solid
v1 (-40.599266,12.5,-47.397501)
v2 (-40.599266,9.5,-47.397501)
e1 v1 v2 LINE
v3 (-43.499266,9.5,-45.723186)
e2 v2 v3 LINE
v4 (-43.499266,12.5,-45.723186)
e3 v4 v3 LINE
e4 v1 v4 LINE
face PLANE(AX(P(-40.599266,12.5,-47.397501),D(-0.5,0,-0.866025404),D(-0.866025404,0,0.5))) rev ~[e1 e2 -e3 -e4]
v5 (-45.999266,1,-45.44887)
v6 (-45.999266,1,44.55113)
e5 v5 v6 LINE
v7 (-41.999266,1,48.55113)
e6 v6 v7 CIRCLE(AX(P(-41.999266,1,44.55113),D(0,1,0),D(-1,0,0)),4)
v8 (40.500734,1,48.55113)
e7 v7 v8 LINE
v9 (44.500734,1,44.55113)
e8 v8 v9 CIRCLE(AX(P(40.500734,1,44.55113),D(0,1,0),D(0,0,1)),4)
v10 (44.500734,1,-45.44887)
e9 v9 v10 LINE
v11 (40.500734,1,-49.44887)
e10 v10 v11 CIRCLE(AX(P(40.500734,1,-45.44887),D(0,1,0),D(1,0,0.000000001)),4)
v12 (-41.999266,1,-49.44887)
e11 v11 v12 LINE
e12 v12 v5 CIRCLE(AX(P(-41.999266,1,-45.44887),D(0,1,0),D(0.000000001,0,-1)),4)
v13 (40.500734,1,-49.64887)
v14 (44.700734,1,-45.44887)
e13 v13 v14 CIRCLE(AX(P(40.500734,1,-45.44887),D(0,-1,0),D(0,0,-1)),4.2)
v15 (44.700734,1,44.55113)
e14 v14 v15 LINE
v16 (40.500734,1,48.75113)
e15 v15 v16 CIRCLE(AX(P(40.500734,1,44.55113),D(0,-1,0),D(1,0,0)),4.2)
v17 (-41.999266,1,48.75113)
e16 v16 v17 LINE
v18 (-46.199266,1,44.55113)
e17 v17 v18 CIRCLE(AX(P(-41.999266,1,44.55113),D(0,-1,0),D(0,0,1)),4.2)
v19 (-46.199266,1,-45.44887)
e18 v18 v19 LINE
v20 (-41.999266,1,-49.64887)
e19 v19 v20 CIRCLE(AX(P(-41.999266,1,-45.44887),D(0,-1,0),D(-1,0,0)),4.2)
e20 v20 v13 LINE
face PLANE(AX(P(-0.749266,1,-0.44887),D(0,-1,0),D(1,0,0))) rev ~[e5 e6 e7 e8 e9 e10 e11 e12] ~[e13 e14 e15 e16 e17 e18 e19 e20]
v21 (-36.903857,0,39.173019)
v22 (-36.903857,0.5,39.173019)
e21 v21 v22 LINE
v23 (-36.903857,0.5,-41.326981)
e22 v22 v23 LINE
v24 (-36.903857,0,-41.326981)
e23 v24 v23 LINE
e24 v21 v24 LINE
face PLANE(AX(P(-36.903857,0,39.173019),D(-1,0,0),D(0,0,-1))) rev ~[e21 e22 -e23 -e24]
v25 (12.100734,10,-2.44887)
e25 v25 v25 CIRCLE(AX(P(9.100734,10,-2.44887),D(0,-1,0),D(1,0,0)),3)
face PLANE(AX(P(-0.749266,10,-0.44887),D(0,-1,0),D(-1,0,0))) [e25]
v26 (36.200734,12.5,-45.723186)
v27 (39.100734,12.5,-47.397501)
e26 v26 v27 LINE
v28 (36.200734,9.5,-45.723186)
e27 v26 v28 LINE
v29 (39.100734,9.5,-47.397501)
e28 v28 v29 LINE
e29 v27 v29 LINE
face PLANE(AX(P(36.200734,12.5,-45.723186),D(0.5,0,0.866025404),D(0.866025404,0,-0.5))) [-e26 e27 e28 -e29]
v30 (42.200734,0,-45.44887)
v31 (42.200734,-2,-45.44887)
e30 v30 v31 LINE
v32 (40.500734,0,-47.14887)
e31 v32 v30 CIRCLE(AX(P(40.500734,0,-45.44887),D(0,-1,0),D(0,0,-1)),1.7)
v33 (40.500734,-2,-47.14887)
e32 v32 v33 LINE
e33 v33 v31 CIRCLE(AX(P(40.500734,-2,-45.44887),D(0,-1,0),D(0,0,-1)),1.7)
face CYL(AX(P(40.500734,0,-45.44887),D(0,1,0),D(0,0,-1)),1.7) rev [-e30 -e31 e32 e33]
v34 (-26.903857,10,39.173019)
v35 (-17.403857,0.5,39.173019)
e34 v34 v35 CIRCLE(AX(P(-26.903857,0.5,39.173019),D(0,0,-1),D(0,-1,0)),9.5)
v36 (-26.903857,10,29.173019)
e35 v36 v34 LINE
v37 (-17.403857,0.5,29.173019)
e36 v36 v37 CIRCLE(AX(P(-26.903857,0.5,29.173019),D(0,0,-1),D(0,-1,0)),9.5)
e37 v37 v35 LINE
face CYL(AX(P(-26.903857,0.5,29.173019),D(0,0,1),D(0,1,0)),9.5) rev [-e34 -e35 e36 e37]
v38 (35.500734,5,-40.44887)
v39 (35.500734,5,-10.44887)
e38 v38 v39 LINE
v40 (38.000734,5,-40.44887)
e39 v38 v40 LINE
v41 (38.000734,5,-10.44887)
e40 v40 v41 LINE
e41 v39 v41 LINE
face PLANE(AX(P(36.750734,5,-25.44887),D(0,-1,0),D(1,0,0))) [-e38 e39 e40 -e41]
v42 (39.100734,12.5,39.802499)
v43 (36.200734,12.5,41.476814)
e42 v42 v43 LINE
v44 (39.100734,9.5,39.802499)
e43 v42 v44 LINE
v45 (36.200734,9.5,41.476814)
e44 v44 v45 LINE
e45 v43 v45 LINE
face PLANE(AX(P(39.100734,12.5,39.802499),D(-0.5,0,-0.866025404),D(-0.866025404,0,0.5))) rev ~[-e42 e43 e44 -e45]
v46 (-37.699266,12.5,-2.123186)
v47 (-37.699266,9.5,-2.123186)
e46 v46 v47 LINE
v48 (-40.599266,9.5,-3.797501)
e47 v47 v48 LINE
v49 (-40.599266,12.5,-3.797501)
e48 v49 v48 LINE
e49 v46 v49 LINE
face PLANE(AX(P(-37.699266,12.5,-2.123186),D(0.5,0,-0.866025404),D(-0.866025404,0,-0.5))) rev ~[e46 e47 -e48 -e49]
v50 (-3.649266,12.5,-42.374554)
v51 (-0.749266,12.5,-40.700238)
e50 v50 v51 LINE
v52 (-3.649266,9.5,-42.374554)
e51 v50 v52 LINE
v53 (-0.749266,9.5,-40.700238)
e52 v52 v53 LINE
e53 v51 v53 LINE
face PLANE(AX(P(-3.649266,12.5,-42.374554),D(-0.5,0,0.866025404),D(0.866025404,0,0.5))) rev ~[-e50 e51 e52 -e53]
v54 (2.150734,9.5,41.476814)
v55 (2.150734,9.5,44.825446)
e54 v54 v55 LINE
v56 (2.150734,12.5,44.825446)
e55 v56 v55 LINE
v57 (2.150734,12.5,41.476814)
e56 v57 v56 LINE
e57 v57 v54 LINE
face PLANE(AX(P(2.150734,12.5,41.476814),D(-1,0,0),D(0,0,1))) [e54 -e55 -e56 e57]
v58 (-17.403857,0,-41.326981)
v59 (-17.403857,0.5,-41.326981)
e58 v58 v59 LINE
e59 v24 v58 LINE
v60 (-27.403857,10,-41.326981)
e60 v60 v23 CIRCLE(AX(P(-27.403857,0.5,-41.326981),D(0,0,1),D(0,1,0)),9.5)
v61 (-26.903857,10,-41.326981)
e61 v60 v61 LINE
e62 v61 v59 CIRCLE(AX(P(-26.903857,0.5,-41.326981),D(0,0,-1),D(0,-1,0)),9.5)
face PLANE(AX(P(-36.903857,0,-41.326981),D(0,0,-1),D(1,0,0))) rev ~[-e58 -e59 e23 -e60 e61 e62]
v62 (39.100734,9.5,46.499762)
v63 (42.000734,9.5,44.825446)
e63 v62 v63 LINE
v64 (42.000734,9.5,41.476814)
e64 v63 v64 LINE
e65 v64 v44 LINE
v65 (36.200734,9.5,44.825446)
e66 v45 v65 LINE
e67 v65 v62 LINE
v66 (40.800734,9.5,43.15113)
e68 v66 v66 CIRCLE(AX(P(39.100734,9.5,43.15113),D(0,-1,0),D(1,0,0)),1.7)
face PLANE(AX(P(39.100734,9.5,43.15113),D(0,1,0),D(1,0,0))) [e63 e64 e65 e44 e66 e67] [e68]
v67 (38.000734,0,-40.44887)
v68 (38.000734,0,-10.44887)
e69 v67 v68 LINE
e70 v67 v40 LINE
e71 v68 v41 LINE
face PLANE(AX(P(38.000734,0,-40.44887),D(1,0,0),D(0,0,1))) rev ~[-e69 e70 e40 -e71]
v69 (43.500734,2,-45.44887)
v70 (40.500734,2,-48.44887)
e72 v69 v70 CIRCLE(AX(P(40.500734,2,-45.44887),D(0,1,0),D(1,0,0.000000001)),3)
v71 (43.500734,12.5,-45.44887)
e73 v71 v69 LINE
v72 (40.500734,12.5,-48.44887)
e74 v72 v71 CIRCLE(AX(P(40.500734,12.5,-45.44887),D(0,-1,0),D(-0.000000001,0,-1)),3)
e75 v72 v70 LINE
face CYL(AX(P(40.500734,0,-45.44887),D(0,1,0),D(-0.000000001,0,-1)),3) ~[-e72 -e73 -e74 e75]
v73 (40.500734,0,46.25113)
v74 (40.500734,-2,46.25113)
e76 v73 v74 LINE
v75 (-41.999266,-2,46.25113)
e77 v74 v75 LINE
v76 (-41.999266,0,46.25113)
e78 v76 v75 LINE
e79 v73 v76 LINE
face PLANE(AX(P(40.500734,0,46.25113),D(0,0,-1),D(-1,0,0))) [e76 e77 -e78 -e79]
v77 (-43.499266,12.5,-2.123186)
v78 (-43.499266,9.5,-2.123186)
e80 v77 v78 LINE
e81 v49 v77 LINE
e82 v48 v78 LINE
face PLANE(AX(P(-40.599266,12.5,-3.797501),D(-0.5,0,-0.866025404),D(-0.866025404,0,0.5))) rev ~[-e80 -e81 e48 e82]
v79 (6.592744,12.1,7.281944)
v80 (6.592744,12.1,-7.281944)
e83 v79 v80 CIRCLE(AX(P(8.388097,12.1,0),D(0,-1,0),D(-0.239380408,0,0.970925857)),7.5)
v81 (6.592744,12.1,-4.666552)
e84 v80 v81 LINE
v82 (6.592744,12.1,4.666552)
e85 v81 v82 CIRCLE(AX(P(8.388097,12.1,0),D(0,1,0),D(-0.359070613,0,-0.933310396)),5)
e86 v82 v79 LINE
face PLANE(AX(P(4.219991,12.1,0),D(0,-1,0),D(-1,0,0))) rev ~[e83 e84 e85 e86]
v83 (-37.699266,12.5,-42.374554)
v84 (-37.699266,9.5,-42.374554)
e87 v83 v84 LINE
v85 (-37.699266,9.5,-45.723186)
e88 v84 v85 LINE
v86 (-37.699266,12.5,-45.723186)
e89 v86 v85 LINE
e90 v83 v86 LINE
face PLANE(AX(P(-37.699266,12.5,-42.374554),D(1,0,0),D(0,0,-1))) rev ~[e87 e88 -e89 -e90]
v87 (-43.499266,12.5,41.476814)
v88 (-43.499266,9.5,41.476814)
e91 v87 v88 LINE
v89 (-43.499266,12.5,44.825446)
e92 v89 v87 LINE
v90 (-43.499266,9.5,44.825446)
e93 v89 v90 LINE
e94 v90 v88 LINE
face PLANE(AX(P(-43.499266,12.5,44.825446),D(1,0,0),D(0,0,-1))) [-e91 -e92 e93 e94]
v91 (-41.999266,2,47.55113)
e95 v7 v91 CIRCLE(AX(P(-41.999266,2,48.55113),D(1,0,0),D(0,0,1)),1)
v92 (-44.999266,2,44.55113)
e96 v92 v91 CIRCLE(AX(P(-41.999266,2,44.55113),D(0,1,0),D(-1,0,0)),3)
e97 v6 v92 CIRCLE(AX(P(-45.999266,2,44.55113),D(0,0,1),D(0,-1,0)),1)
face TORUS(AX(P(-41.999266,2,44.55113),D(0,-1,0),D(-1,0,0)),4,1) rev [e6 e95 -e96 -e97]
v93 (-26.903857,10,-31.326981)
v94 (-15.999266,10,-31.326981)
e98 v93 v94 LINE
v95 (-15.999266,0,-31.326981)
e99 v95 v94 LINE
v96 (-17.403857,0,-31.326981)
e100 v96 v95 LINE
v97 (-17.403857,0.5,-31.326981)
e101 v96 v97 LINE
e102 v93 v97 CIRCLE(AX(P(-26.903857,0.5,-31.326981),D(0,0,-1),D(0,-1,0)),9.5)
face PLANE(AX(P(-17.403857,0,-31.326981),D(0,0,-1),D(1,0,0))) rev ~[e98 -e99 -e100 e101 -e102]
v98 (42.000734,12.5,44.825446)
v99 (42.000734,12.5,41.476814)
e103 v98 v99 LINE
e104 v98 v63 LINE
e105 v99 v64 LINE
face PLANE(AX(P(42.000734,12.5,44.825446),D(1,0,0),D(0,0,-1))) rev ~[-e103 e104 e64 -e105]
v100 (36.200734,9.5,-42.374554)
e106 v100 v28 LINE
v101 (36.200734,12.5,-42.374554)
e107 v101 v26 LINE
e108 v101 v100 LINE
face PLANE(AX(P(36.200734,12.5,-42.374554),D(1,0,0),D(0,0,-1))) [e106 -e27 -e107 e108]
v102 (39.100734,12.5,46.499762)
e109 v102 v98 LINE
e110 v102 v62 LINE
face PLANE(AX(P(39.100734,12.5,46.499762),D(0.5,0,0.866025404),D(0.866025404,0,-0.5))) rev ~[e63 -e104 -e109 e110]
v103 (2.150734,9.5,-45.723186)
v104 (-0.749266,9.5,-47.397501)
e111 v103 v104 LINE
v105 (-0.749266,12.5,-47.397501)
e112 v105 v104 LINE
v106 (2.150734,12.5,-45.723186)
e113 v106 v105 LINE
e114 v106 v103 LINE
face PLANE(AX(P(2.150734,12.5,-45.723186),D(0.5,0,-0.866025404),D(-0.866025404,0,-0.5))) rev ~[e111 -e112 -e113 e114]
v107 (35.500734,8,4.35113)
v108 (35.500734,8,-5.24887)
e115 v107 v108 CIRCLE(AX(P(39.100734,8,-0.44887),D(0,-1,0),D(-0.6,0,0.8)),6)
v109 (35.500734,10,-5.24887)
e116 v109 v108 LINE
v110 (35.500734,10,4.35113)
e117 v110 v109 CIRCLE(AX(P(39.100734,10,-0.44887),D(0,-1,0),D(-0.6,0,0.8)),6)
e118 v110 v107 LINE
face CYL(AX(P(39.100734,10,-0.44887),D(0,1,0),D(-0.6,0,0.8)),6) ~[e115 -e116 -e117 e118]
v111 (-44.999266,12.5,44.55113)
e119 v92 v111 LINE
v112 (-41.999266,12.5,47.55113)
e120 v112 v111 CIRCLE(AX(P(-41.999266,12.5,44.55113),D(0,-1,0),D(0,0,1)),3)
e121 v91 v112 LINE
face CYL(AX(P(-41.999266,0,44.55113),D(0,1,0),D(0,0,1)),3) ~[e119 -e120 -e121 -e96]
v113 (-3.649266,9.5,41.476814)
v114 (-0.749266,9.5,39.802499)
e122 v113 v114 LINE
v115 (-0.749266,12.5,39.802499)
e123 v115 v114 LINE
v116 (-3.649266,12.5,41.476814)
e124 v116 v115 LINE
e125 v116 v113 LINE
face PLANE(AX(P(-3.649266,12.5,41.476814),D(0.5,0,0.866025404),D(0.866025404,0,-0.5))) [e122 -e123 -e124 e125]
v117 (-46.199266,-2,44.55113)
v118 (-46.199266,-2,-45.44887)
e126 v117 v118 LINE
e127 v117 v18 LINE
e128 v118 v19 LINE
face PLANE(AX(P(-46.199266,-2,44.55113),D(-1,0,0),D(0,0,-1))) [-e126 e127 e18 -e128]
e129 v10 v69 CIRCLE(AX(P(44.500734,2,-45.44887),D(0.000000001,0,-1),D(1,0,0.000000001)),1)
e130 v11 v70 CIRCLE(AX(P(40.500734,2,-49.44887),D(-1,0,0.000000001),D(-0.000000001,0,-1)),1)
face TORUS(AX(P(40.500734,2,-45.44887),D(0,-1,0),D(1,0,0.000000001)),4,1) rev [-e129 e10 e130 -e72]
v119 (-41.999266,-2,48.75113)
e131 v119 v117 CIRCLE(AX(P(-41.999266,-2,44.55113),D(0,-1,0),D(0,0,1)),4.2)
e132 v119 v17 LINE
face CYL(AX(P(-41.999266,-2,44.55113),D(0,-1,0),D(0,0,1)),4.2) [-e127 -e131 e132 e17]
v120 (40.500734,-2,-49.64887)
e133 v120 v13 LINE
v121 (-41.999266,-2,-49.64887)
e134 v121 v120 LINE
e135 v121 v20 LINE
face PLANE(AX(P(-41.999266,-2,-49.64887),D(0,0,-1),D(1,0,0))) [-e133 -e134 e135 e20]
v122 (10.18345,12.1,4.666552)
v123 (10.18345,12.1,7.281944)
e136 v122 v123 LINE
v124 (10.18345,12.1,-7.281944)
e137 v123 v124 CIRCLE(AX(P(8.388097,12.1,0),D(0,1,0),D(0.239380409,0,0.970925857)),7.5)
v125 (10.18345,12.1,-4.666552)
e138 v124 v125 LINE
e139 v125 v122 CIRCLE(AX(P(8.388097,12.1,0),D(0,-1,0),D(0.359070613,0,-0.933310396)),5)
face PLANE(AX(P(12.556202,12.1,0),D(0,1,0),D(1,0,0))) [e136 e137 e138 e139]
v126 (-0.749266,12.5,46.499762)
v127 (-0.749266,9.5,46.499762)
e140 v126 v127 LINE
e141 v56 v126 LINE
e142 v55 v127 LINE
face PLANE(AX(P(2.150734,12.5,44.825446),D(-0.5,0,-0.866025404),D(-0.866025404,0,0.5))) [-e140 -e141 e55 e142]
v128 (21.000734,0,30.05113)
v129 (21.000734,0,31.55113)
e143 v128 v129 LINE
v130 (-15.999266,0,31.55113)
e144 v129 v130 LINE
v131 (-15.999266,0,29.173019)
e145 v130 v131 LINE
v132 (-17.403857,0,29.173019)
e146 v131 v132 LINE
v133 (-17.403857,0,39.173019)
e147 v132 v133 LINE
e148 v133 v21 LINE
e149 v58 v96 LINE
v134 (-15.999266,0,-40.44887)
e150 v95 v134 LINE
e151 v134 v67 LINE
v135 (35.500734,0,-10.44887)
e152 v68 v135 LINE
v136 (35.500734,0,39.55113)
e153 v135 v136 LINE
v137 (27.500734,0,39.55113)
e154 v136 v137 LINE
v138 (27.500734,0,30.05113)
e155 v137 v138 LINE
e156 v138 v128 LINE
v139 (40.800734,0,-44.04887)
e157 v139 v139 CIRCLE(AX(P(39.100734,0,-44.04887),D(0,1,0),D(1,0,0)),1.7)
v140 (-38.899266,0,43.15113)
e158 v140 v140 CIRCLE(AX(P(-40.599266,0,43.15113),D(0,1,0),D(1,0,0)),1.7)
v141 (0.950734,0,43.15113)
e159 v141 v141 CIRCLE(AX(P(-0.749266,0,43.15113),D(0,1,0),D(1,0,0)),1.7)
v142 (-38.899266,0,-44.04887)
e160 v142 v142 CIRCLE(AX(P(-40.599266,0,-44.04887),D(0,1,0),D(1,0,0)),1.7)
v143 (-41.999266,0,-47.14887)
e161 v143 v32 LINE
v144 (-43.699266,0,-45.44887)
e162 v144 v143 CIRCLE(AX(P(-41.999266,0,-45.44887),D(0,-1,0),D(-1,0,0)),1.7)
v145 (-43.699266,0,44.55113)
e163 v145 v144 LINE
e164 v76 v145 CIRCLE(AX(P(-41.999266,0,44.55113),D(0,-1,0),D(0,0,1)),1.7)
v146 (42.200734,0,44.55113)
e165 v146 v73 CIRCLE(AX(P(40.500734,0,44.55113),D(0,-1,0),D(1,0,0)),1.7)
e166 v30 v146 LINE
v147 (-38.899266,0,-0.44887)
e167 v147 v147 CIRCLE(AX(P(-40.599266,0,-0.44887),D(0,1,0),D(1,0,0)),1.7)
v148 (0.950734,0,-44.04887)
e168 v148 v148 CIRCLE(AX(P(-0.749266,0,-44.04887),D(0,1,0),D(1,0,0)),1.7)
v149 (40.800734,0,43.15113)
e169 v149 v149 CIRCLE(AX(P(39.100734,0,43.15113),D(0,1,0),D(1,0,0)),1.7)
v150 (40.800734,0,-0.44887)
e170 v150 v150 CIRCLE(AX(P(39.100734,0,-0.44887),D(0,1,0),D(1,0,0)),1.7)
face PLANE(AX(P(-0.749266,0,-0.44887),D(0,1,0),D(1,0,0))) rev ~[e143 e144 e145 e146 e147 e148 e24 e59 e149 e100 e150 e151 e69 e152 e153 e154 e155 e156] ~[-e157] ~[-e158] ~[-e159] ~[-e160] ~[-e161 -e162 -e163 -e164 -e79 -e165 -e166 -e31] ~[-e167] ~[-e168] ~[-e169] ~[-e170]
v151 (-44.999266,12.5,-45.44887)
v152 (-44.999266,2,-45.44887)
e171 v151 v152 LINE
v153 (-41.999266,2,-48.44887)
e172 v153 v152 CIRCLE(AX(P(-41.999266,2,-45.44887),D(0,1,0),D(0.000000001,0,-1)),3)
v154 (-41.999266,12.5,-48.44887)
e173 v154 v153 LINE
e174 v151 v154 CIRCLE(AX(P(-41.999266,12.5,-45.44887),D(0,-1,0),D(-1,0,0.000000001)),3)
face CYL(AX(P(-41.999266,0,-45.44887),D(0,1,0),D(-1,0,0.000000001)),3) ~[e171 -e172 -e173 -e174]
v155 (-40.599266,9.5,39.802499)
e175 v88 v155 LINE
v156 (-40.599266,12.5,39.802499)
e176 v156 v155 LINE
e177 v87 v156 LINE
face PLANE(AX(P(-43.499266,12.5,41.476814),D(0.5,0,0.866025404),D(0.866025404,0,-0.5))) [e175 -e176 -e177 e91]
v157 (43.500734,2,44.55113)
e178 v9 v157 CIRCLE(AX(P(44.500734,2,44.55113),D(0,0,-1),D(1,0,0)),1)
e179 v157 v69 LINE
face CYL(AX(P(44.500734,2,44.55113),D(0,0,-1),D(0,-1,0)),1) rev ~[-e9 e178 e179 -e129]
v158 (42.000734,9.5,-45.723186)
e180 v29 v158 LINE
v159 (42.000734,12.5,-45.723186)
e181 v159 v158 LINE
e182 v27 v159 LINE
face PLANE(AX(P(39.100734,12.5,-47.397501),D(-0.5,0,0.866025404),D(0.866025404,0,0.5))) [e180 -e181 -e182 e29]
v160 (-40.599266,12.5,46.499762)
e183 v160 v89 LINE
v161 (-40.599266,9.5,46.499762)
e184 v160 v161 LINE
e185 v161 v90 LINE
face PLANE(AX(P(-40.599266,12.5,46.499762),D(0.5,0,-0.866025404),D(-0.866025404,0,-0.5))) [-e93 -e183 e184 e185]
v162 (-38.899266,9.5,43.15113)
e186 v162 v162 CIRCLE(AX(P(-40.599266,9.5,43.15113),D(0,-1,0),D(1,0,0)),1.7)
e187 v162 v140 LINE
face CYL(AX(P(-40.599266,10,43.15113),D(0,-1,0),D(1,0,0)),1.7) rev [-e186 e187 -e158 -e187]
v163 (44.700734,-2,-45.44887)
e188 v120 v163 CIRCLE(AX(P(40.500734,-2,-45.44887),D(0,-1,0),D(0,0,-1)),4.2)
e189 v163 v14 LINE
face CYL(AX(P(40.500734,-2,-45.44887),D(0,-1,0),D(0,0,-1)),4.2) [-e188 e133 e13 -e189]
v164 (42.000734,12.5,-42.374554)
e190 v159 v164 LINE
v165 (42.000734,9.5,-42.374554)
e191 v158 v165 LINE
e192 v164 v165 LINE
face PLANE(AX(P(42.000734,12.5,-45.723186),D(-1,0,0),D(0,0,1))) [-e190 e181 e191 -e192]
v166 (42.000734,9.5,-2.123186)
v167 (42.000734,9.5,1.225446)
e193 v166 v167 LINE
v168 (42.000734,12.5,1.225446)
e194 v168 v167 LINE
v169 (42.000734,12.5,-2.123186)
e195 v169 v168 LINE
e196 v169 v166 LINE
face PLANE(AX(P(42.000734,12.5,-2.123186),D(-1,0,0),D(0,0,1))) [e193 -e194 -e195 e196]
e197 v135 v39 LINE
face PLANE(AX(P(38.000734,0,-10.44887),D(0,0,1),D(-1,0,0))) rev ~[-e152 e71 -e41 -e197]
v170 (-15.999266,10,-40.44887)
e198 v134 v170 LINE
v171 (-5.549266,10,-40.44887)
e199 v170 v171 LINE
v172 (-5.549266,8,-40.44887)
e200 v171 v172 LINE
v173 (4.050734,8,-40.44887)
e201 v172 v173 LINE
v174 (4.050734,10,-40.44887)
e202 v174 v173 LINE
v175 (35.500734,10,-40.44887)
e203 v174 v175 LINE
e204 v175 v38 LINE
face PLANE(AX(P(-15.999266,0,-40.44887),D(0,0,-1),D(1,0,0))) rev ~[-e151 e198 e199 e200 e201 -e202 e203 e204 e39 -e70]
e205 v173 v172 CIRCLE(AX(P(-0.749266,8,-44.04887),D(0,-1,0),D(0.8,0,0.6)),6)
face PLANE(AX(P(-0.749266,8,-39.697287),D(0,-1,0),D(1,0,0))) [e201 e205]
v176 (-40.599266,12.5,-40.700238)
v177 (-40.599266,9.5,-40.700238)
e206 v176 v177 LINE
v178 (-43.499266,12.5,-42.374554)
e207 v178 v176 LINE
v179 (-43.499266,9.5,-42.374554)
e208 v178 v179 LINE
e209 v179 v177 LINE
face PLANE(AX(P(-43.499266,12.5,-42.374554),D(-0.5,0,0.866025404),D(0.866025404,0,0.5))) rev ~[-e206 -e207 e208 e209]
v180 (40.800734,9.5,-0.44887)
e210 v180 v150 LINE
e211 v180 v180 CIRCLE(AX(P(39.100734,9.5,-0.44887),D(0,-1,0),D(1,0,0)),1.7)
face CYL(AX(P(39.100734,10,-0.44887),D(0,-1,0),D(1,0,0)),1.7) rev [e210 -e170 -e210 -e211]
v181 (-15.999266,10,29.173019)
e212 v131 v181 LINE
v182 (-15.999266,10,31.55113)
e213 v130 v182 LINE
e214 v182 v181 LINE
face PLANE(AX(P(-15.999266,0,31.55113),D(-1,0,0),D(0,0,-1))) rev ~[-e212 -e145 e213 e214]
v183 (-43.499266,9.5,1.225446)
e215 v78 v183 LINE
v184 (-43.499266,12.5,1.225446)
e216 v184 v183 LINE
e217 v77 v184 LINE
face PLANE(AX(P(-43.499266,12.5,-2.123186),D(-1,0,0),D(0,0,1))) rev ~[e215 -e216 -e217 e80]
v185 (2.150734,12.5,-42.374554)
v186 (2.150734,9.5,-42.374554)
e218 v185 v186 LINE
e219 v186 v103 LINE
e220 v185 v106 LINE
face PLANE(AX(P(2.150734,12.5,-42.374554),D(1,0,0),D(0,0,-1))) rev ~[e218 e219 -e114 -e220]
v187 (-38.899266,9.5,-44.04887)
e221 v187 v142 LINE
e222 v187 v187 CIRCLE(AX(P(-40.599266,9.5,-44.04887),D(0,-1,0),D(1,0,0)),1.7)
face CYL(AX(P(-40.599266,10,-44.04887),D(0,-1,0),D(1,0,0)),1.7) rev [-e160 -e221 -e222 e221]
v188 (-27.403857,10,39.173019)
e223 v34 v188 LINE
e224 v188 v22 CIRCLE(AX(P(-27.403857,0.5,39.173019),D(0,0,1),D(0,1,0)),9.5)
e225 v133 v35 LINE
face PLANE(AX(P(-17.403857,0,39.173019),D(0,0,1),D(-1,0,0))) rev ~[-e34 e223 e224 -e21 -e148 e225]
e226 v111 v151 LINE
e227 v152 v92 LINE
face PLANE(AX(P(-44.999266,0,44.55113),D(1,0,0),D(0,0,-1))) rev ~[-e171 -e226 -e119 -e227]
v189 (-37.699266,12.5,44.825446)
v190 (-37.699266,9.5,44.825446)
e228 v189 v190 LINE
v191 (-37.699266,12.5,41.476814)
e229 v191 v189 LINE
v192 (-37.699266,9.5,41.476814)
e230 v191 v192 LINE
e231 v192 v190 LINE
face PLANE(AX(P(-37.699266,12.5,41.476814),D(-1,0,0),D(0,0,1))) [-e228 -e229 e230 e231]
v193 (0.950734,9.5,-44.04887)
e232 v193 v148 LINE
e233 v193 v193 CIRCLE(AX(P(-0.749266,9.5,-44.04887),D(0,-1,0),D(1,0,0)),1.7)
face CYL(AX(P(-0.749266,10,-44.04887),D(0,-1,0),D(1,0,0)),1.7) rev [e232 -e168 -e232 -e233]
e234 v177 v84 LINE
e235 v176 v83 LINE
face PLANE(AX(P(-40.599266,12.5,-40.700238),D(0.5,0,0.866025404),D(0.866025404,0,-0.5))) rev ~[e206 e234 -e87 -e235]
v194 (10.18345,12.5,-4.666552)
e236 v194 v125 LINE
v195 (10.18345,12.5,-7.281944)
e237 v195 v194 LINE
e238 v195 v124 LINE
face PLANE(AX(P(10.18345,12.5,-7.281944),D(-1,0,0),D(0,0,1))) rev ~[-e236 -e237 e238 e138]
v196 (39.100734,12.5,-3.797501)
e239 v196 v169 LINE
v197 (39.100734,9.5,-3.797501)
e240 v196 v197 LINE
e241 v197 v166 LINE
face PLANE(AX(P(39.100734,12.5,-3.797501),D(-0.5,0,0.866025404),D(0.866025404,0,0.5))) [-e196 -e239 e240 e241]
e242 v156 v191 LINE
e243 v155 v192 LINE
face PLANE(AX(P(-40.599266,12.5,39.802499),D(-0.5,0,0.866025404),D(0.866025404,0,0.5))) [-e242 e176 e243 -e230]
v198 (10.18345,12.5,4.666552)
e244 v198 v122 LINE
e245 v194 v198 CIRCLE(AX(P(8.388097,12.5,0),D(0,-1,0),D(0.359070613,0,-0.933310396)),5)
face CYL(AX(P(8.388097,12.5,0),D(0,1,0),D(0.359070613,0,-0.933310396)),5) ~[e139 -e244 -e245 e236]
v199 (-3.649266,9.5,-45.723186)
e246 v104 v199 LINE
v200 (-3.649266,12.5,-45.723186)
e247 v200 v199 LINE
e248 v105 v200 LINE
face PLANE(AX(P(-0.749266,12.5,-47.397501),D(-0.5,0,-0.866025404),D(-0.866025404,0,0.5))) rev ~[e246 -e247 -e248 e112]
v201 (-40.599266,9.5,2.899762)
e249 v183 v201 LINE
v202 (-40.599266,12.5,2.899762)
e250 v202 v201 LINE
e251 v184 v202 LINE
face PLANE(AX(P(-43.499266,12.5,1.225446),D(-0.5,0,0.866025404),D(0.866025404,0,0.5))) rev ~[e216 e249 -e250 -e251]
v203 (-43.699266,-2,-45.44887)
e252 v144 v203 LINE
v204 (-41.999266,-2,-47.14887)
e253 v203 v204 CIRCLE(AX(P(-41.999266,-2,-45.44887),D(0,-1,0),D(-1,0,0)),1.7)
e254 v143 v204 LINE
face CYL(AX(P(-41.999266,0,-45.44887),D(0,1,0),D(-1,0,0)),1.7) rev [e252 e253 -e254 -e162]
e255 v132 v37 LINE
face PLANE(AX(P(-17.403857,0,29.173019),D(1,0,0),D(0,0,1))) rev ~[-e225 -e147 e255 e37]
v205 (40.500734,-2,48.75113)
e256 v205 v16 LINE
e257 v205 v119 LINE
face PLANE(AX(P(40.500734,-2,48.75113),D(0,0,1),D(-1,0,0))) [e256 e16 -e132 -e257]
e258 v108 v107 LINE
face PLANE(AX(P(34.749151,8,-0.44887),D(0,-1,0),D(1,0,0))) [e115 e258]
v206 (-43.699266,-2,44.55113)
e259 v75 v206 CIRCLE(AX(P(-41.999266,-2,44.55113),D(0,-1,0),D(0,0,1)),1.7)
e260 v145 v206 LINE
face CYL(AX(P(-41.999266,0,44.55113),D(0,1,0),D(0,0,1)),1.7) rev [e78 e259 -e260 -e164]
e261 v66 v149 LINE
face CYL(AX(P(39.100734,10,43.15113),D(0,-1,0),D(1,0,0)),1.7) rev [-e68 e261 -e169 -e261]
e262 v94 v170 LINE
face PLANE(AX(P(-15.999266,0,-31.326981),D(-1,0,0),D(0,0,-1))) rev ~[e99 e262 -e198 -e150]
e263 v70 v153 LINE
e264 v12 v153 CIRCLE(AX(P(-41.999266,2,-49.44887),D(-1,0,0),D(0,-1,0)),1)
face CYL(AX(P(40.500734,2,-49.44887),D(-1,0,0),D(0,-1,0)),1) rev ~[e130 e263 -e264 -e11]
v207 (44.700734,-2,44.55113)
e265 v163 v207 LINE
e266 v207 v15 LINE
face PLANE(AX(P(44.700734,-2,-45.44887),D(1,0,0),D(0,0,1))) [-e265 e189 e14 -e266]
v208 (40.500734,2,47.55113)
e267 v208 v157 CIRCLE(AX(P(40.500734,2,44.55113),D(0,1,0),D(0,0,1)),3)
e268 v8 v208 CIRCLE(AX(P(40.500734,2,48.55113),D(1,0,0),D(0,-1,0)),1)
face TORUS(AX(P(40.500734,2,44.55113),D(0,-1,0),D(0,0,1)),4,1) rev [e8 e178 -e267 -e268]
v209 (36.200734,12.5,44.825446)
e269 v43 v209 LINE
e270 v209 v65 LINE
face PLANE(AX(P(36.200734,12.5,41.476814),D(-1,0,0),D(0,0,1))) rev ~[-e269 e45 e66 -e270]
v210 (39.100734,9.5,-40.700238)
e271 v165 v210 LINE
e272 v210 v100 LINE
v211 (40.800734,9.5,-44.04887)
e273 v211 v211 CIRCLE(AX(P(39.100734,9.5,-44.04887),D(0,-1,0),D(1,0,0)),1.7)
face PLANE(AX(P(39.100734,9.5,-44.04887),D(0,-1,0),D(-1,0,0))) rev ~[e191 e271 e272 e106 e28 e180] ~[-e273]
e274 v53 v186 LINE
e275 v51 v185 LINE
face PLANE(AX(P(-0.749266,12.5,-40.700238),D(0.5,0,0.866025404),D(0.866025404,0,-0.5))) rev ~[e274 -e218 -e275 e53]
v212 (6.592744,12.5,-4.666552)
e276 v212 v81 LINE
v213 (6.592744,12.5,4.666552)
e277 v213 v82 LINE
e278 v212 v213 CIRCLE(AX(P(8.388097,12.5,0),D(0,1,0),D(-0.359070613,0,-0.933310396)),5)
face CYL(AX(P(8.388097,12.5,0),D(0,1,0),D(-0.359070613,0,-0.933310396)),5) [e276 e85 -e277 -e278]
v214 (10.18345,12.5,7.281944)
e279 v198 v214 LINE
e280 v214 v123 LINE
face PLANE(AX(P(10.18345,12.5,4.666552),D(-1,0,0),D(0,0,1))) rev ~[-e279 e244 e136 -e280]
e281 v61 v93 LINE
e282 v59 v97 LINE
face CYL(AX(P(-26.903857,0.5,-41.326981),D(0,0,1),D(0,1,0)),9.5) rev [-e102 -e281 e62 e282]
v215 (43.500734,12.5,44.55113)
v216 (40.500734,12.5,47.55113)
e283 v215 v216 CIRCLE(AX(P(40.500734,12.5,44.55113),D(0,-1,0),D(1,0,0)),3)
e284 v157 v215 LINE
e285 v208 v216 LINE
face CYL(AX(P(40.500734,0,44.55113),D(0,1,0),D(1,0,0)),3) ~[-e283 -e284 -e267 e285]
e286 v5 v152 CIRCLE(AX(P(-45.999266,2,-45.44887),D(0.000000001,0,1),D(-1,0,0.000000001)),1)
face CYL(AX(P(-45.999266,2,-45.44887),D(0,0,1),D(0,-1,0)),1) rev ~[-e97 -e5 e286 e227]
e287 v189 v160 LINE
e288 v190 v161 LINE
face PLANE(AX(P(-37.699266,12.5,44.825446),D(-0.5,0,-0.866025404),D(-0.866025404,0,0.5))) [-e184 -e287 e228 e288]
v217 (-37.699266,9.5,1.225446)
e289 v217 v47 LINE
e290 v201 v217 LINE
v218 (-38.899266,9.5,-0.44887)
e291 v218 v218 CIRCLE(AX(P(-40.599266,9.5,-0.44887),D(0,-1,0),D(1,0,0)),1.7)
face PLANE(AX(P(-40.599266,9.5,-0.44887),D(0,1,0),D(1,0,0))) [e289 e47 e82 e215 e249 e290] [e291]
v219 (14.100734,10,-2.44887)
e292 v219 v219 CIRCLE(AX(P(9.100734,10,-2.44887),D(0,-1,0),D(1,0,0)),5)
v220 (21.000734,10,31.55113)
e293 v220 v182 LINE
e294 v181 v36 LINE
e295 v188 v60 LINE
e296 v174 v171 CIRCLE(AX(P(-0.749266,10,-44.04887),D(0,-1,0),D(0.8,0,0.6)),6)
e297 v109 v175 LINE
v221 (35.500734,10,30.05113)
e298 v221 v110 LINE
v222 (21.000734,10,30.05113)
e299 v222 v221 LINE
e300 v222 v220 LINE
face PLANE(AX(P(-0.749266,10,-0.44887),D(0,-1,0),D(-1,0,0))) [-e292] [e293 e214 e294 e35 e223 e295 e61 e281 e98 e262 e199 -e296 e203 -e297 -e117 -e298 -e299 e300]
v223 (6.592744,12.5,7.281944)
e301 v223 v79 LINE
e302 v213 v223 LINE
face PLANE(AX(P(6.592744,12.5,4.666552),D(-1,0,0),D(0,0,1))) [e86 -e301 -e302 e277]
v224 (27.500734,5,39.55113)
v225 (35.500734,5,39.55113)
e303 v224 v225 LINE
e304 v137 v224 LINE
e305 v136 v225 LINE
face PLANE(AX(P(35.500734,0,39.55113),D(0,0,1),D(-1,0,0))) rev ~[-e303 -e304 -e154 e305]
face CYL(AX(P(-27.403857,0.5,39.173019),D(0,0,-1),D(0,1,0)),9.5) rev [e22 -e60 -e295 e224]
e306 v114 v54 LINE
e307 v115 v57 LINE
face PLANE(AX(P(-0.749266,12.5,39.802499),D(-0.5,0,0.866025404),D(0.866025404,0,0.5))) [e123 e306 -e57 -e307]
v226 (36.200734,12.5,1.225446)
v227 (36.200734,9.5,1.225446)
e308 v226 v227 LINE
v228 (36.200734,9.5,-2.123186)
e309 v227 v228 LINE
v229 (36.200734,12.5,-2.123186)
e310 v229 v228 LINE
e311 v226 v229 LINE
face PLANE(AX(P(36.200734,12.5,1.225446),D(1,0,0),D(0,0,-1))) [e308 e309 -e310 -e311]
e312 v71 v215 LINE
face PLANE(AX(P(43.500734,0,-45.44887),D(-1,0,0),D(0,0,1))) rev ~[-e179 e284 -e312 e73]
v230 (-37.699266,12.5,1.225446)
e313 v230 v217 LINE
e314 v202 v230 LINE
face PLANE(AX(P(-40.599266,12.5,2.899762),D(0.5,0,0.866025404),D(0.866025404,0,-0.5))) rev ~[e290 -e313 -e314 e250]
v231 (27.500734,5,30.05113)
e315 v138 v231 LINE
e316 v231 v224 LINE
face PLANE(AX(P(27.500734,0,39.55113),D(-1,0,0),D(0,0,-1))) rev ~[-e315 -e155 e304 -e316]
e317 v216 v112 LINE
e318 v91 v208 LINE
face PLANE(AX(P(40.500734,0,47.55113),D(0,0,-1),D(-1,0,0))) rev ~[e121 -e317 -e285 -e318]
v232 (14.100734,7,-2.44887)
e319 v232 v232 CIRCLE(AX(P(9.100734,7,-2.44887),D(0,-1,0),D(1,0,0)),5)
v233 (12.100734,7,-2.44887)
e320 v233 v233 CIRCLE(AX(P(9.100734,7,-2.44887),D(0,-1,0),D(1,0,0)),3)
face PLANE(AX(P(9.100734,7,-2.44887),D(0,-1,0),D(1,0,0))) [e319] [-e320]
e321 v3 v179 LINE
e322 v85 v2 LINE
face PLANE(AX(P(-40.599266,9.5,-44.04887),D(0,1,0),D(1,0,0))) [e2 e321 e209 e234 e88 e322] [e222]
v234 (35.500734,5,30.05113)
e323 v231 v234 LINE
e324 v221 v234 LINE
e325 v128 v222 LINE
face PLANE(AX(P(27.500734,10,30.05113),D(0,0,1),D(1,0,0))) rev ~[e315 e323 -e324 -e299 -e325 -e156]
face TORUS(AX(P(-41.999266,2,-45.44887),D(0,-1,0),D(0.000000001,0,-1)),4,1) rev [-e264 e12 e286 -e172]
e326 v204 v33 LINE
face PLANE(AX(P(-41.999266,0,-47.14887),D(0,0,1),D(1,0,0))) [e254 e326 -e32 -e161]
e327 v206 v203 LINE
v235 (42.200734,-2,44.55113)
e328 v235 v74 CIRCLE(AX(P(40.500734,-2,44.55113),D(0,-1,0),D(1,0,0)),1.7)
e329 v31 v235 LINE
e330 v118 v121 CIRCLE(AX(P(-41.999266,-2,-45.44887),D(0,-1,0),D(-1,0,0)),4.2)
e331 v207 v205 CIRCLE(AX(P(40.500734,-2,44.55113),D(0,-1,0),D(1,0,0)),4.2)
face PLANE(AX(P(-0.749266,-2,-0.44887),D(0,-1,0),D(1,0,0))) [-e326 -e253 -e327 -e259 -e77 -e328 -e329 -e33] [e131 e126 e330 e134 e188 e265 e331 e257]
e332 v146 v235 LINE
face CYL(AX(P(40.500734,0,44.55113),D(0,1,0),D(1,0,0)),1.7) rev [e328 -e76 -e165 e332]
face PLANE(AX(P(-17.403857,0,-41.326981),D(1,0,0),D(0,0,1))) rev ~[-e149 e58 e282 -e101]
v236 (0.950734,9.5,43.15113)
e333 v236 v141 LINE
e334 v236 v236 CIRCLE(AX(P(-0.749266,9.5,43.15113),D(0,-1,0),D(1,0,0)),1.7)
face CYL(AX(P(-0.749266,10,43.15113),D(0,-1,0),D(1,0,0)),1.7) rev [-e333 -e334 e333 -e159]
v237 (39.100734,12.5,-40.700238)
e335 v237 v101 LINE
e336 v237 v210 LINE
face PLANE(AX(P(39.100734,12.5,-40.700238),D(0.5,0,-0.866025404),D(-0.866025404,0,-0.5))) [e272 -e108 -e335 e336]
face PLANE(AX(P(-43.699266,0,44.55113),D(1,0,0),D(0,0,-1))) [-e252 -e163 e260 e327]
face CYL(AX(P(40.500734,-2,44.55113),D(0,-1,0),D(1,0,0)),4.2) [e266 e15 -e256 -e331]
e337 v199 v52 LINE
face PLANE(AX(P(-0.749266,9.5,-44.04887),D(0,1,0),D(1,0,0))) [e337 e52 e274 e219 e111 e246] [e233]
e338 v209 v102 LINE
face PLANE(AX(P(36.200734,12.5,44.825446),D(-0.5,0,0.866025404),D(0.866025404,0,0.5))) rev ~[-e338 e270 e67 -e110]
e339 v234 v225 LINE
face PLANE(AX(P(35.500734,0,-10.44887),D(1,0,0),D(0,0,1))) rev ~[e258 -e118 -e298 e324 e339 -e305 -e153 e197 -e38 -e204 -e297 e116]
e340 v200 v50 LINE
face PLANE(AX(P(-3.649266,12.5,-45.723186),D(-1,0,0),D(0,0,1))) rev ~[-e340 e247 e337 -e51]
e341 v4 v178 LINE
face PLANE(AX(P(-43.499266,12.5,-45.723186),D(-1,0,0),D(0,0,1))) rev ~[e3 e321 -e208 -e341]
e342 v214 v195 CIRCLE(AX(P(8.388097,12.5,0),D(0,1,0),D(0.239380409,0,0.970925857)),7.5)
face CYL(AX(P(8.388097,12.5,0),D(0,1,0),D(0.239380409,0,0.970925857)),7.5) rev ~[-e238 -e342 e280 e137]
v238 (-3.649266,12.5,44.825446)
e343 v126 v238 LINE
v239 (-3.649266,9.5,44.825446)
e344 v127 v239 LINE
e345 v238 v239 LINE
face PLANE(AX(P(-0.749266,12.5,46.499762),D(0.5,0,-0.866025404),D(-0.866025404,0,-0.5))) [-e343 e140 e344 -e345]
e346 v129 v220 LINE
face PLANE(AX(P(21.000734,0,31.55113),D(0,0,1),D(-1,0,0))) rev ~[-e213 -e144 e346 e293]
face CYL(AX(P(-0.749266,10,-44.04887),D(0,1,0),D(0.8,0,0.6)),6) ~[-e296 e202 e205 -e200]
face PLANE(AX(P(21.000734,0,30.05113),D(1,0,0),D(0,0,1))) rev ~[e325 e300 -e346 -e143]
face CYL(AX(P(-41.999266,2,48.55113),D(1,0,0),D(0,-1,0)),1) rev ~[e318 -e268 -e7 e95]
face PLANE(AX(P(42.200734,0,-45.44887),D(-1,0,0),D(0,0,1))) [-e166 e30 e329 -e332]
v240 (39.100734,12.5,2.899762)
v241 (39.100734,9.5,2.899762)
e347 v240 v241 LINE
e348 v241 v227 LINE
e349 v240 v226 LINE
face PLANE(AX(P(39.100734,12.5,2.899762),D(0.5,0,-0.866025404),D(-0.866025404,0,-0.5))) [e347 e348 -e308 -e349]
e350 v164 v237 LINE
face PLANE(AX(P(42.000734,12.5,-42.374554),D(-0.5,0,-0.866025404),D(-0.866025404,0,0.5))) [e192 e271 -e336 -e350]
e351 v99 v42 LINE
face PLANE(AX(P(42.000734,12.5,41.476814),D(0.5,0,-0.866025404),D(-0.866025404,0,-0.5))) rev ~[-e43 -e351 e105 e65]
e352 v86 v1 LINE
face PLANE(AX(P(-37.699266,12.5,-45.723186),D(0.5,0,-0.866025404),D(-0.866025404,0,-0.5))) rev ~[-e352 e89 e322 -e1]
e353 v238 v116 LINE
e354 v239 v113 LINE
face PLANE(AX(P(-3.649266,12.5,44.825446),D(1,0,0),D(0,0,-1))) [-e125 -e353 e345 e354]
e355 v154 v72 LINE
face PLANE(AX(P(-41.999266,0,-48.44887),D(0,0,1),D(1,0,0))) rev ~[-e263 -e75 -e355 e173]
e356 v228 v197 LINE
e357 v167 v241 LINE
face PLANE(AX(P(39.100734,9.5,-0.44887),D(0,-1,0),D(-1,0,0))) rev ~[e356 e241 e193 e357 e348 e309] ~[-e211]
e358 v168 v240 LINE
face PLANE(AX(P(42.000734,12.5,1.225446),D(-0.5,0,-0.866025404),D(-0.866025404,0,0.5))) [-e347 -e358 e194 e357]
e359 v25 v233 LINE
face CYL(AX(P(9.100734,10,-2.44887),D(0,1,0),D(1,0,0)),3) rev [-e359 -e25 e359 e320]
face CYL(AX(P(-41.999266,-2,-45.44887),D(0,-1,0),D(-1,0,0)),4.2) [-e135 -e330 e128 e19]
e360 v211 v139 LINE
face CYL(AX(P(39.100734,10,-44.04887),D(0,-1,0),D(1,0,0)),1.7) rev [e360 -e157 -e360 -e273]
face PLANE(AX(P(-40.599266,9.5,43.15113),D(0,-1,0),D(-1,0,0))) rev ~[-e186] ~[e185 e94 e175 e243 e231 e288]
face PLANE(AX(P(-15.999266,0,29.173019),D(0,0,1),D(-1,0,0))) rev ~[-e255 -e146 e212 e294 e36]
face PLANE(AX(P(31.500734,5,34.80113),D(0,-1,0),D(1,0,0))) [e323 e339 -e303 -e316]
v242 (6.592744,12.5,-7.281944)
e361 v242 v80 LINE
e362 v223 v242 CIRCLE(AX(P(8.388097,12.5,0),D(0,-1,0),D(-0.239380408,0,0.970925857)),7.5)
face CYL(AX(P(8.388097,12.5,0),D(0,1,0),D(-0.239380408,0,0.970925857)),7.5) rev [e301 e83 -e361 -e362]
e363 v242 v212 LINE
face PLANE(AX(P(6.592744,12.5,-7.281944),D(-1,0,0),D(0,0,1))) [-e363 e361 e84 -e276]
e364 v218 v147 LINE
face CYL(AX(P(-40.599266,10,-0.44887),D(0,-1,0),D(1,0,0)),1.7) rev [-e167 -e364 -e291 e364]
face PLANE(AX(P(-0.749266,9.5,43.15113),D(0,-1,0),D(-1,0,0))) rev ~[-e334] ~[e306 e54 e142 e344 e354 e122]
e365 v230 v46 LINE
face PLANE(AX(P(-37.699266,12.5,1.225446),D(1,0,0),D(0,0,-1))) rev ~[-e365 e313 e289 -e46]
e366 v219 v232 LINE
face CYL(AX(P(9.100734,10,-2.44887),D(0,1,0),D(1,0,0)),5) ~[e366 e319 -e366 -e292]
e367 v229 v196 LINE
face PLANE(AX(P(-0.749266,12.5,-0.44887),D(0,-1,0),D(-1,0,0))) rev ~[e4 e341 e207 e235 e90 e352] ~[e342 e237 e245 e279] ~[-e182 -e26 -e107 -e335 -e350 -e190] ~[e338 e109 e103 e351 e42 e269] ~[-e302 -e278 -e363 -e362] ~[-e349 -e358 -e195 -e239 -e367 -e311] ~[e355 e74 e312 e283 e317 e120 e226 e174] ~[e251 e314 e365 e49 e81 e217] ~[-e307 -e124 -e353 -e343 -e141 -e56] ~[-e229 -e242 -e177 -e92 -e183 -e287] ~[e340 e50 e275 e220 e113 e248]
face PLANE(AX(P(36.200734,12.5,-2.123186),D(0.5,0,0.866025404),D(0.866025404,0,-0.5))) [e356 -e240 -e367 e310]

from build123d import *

# Parameters (mm, degrees)
SKETCH_1_R          = 1.7
EXTRUDE_1_DEPTH     = 10
SKETCH_2_R          = 1.7
EXTRUDE_2_DEPTH     = 2.5
FILLET_1_R          = 9.5
FILLET_2_R          = 9.5
FILLET_3_R          = 9.5
SKETCH_3_R          = 5
SKETCH_3_R_2        = 3
EXTRUDE_3_DEPTH     = 3
CUT_EXTRUDE_1_DEPTH = 0.4
CUT_EXTRUDE_2_DEPTH = 3
SKETCH_6_W          = 8
SKETCH_6_H          = 9.5
SKETCH_6_W_2        = 2.5
SKETCH_6_H_2        = 30
EXTRUDE_4_DEPTH     = 5
EXTRUDE_5_DEPTH     = 2
EXTRUDE_1_2_DEPTH   = 2
EXTRUDE_3_2_DEPTH   = 3
FILLET_4_R          = 1


with BuildPart() as part:
    # Эскиз1 → Extrude 1 (new body)
    with BuildSketch(Plane(origin=(0, 0, 0), x_dir=(1, 0, 0), z_dir=(0, 1, 0))):
        with BuildLine():
            ThreePointArc((-44.999265675, -44.551130115), (-44.120586019, -46.672450458), (-41.999265675, -47.551130115))
            Line((-41.999265675, -47.551130115), (40.500734325, -47.551130115))
            ThreePointArc((40.500734325, -47.551130115), (42.622054669, -46.672450458), (43.500734325, -44.551130115))
            Line((43.500734325, -44.551130115), (43.500734325, 45.448869885))
            ThreePointArc((43.500734325, 45.448869885), (42.622054669, 47.570190229), (40.500734325, 48.448869885))
            Line((40.500734325, 48.448869885), (-41.999265675, 48.448869885))
            ThreePointArc((-41.999265675, 48.448869885), (-44.120586019, 47.570190229), (-44.999265675, 45.448869885))
            Line((-44.999265675, 45.448869885), (-44.999265675, -44.551130115))
        make_face()
        with Locations((-40.599265675, -43.151130115)):
            Circle(SKETCH_1_R, mode=Mode.SUBTRACT)
        with Locations((-0.749265675, -43.151130115)):
            Circle(SKETCH_1_R, mode=Mode.SUBTRACT)
        with Locations((39.100734325, -43.151130115)):
            Circle(SKETCH_1_R, mode=Mode.SUBTRACT)
        with Locations((-40.599265675, 0.448869885)):
            Circle(SKETCH_1_R, mode=Mode.SUBTRACT)
        with Locations((-40.599265675, 44.048869885)):
            Circle(SKETCH_1_R, mode=Mode.SUBTRACT)
        with Locations((-0.749265675, 44.048869885)):
            Circle(SKETCH_1_R, mode=Mode.SUBTRACT)
        Polygon((-17.403857393, -29.173018851), (-17.403857393, -31.551130115), (-17.403857393, -39.173018851), (-36.903857393, -39.173018851), (-36.903857393, 41.326981149), (-17.403857393, 41.326981149), (-17.403857393, 40.448869885), (-17.403857393, 31.326981149), (-15.999265675, 31.326981149), (-15.999265675, 40.448869885), (38.000734325, 40.448869885), (38.000734325, 10.448869885), (35.500734325, 10.448869885), (35.500734325, -29.051130115), (35.500734325, -30.051130115), (35.500734325, -39.551130115), (27.500734325, -39.551130115), (27.500734325, -30.051130115), (21.000734325, -30.051130115), (21.000734325, -31.551130115), (-15.999265675, -31.551130115), (-15.999265675, -29.173018851), align=None, mode=Mode.SUBTRACT)
        with Locations((39.100734325, 0.448869885)):
            Circle(SKETCH_1_R, mode=Mode.SUBTRACT)
        with Locations((39.100734325, 44.048869885)):
            Circle(SKETCH_1_R, mode=Mode.SUBTRACT)
    extrude(amount=EXTRUDE_1_DEPTH)

    # Эскиз2 → Бобышка-Вытянуть2 (add)
    with BuildSketch(Plane(origin=(0, 10, 0), x_dir=(1, 0, 0), z_dir=(0, 1, 0))):
        with BuildLine():
            Line((43.500734325, 45.448869885), (43.500734325, -44.551130115))
            ThreePointArc((43.500734325, -44.551130115), (42.622054669, -46.672450458), (40.500734325, -47.551130115))
            Line((40.500734325, -47.551130115), (-41.999265675, -47.551130115))
            ThreePointArc((-41.999265675, -47.551130115), (-44.120586019, -46.672450458), (-44.999265675, -44.551130115))
            Line((-44.999265675, -44.551130115), (-44.999265675, 45.448869885))
            ThreePointArc((-44.999265675, 45.448869885), (-44.120586019, 47.570190229), (-41.999265675, 48.448869885))
            Line((-41.999265675, 48.448869885), (40.500734325, 48.448869885))
            ThreePointArc((40.500734325, 48.448869885), (42.622054669, 47.570190229), (43.500734325, 45.448869885))
        make_face()
        with Locations((39.100734325, 0.448869885)):
            Circle(SKETCH_2_R, mode=Mode.SUBTRACT)
        with Locations((39.100734325, -43.151130115)):
            Circle(SKETCH_2_R, mode=Mode.SUBTRACT)
        with Locations((-0.749265675, -43.151130115)):
            Circle(SKETCH_2_R, mode=Mode.SUBTRACT)
        with Locations((-40.599265675, -43.151130115)):
            Circle(SKETCH_2_R, mode=Mode.SUBTRACT)
        with Locations((-40.599265675, 0.448869885)):
            Circle(SKETCH_2_R, mode=Mode.SUBTRACT)
        with Locations((39.100734325, 44.048869885)):
            Circle(SKETCH_2_R, mode=Mode.SUBTRACT)
        with Locations((-0.749265675, 44.048869885)):
            Circle(SKETCH_2_R, mode=Mode.SUBTRACT)
        with Locations((-40.599265675, 44.048869885)):
            Circle(SKETCH_2_R, mode=Mode.SUBTRACT)
    extrude(amount=EXTRUDE_2_DEPTH)

    # Скругление1
    fillet_1_edges = [part.edges().sort_by_distance(p)[0] for p in [
        (-36.903857393, 10, -1.076981149),
    ]]
    fillet(fillet_1_edges, radius=FILLET_1_R)

    # Скругление2
    fillet_2_edges = [part.edges().sort_by_distance(p)[0] for p in [
        (-17.403857393, 10, 34.173018851),
    ]]
    fillet(fillet_2_edges, radius=FILLET_2_R)

    # Скругление3
    fillet_3_edges = [part.edges().sort_by_distance(p)[0] for p in [
        (-17.403857393, 10, -36.326981149),
    ]]
    fillet(fillet_3_edges, radius=FILLET_3_R)

    # Эскиз3 → Extrude 3 (add)
    with BuildSketch(Plane.XZ.offset(-10)):
        with Locations((9.100734325, -2.448869885)):
            Circle(SKETCH_3_R)
        with Locations((9.100734325, -2.448869885)):
            Circle(SKETCH_3_R_2, mode=Mode.SUBTRACT)
    extrude(amount=EXTRUDE_3_DEPTH)

    # Эскиз4 → Вырез-Вытянуть1 (cut)
    with BuildSketch(Plane(origin=(0, 12.5, 0), x_dir=(1, 0, 0), z_dir=(0, 1, 0))):
        with BuildLine():
            Line((6.592743591, 7.281943928), (6.592743591, 4.666551979))
            ThreePointArc((6.592743591, 4.666551979), (3.388096655, 0), (6.592743591, -4.666551979))
            Line((6.592743591, -4.666551979), (6.592743591, -7.281943928))
            ThreePointArc((6.592743591, -7.281943928), (0.888096655, 0), (6.592743591, 7.281943928))
        make_face()
        with BuildLine():
            Line((10.18344972, 7.281943928), (10.18344972, 4.666551979))
            ThreePointArc((10.18344972, 4.666551979), (13.388096655, 0), (10.18344972, -4.666551979))
            Line((10.18344972, -4.666551979), (10.18344972, -7.281943928))
            ThreePointArc((10.18344972, -7.281943928), (15.888096655, 0), (10.18344972, 7.281943928))
        make_face()
    extrude(amount=-CUT_EXTRUDE_1_DEPTH, mode=Mode.SUBTRACT)

    # Эскиз5 → Вырез-Вытянуть2 (cut)
    with BuildSketch(Plane(origin=(0, 12.5, 0), x_dir=(1, 0, 0), z_dir=(0, 1, 0))):
        Polygon((-40.599265675, 40.700238324), (-37.699265675, 42.374554105), (-37.699265675, 45.723185666), (-40.599265675, 47.397501447), (-43.499265675, 45.723185666), (-43.499265675, 42.374554105), align=None)
        Polygon((-0.749265675, 40.700238324), (2.150734325, 42.374554105), (2.150734325, 45.723185666), (-0.749265675, 47.397501447), (-3.649265675, 45.723185666), (-3.649265675, 42.374554105), align=None)
        Polygon((-40.599265675, 3.797501447), (-43.499265675, 2.123185666), (-43.499265675, -1.225445895), (-40.599265675, -2.899761676), (-37.699265675, -1.225445895), (-37.699265675, 2.123185666), align=None)
        Polygon((36.200734325, 2.123185666), (39.100734325, 3.797501447), (42.000734325, 2.123185666), (42.000734325, -1.225445895), (39.100734325, -2.899761676), (36.200734325, -1.225445895), align=None)
        Polygon((42.000734325, 42.374554105), (39.100734325, 40.700238324), (36.200734325, 42.374554105), (36.200734325, 45.723185666), (39.100734325, 47.397501447), (42.000734325, 45.723185666), align=None)
        Polygon((39.100734325, -39.802498553), (36.200734325, -41.476814334), (36.200734325, -44.825445895), (39.100734325, -46.499761676), (42.000734325, -44.825445895), (42.000734325, -41.476814334), align=None)
        Polygon((-3.649265675, -41.476814334), (-0.749265675, -39.802498553), (2.150734325, -41.476814334), (2.150734325, -44.825445895), (-0.749265675, -46.499761676), (-3.649265675, -44.825445895), align=None)
        Polygon((-43.499265675, -41.476814334), (-40.599265675, -39.802498553), (-37.699265675, -41.476814334), (-37.699265675, -44.825445895), (-40.599265675, -46.499761676), (-43.499265675, -44.825445895), align=None)
    extrude(amount=-CUT_EXTRUDE_2_DEPTH, mode=Mode.SUBTRACT)

    # Эскиз6 → Бобышка-Вытянуть4 (add)
    with BuildSketch(Plane.XZ.offset(-10)):
        with Locations((31.500734325, 34.801130115)):
            Rectangle(SKETCH_6_W, SKETCH_6_H)
        with Locations((36.750734325, -25.448869885)):
            Rectangle(SKETCH_6_W_2, SKETCH_6_H_2)
    extrude(amount=EXTRUDE_4_DEPTH)

    # Эскиз8 → Бобышка-Вытянуть5 (add)
    with BuildSketch(Plane.XZ.offset(-10)):
        with BuildLine():
            Line((35.500734325, -5.248869885), (35.500734325, 4.351130115))
            ThreePointArc((35.500734325, 4.351130115), (33.100734325, -0.448869885), (35.500734325, -5.248869885))
        make_face()
        with BuildLine():
            Line((-5.549265675, -40.448869885), (4.050734325, -40.448869885))
            ThreePointArc((4.050734325, -40.448869885), (-0.749265675, -38.048869885), (-5.549265675, -40.448869885))
        make_face()
    extrude(amount=EXTRUDE_5_DEPTH)

    # Эскиз9 → Extrude 1 2 (add)
    with BuildSketch(Plane.XZ):
        with BuildLine():
            Line((-44.999265675, 44.551130115), (-44.999265675, -45.448869885))
            ThreePointArc((-44.999265675, -45.448869885), (-44.120586019, -47.570190229), (-41.999265675, -48.448869885))
            Line((-41.999265675, -48.448869885), (40.500734325, -48.448869885))
            ThreePointArc((40.500734325, -48.448869885), (42.622054669, -47.570190229), (43.500734325, -45.448869885))
            Line((43.500734325, -45.448869885), (43.500734325, 44.551130115))
            ThreePointArc((43.500734325, 44.551130115), (42.622054669, 46.672450458), (40.500734325, 47.551130115))
            Line((40.500734325, 47.551130115), (-41.999265675, 47.551130115))
            ThreePointArc((-41.999265675, 47.551130115), (-44.120586019, 46.672450458), (-44.999265675, 44.551130115))
        make_face()
        with BuildLine():
            Line((-43.699265675, 44.551130115), (-43.699265675, -45.448869885))
            ThreePointArc((-43.699265675, -45.448869885), (-43.201347203, -46.650951413), (-41.999265675, -47.148869885))
            Line((-41.999265675, -47.148869885), (40.500734325, -47.148869885))
            ThreePointArc((40.500734325, -47.148869885), (41.702815853, -46.650951413), (42.200734325, -45.448869885))
            Line((42.200734325, -45.448869885), (42.200734325, 44.551130115))
            ThreePointArc((42.200734325, 44.551130115), (41.702815853, 45.753211643), (40.500734325, 46.251130115))
            Line((40.500734325, 46.251130115), (-41.999265675, 46.251130115))
            ThreePointArc((-41.999265675, 46.251130115), (-43.201347203, 45.753211643), (-43.699265675, 44.551130115))
        make_face(mode=Mode.SUBTRACT)
    extrude(amount=EXTRUDE_1_2_DEPTH)

    # Эскиз11 → Extrude 3 2 (add)
    with BuildSketch(Plane.XZ.offset(2)):
        with BuildLine():
            Line((-41.999265675, -49.648869885), (40.500734325, -49.648869885))
            ThreePointArc((40.500734325, -49.648869885), (43.470582806, -48.418718366), (44.700734325, -45.448869885))
            Line((44.700734325, -45.448869885), (44.700734325, 44.551130115))
            ThreePointArc((44.700734325, 44.551130115), (43.470582806, 47.520978596), (40.500734325, 48.751130115))
            Line((40.500734325, 48.751130115), (-41.999265675, 48.751130115))
            ThreePointArc((-41.999265675, 48.751130115), (-44.969114156, 47.520978596), (-46.199265675, 44.551130115))
            Line((-46.199265675, 44.551130115), (-46.199265675, -45.448869885))
            ThreePointArc((-46.199265675, -45.448869885), (-44.969114156, -48.418718366), (-41.999265675, -49.648869885))
        make_face()
        with BuildLine():
            Line((-41.999265675, -47.148869885), (40.500734325, -47.148869885))
            ThreePointArc((40.500734325, -47.148869885), (41.702815853, -46.650951413), (42.200734325, -45.448869885))
            Line((42.200734325, -45.448869885), (42.200734325, 44.551130115))
            ThreePointArc((42.200734325, 44.551130115), (41.702815853, 45.753211643), (40.500734325, 46.251130115))
            Line((40.500734325, 46.251130115), (-41.999265675, 46.251130115))
            ThreePointArc((-41.999265675, 46.251130115), (-43.201347203, 45.753211643), (-43.699265675, 44.551130115))
            Line((-43.699265675, 44.551130115), (-43.699265675, -45.448869885))
            ThreePointArc((-43.699265675, -45.448869885), (-43.201347203, -46.650951413), (-41.999265675, -47.148869885))
        make_face(mode=Mode.SUBTRACT)
    extrude(amount=-EXTRUDE_3_2_DEPTH)

    # Скругление4
    fillet_4_edges = [part.edges().sort_by_distance(p)[0] for p in [
        (42.622054669, 1, -47.570190229),
        (42.622054669, 1, 46.672450458),
        (-0.749265675, 1, 47.551130115),
        (-44.120586019, 1, 46.672450458),
        (-44.999265675, 1, -0.448869885),
        (-44.120586019, 1, -47.570190229),
        (-0.749265675, 1, -48.448869885),
        (43.500734325, 1, -0.448869885),
    ]]
    fillet(fillet_4_edges, radius=FILLET_4_R)


solid = part.part
